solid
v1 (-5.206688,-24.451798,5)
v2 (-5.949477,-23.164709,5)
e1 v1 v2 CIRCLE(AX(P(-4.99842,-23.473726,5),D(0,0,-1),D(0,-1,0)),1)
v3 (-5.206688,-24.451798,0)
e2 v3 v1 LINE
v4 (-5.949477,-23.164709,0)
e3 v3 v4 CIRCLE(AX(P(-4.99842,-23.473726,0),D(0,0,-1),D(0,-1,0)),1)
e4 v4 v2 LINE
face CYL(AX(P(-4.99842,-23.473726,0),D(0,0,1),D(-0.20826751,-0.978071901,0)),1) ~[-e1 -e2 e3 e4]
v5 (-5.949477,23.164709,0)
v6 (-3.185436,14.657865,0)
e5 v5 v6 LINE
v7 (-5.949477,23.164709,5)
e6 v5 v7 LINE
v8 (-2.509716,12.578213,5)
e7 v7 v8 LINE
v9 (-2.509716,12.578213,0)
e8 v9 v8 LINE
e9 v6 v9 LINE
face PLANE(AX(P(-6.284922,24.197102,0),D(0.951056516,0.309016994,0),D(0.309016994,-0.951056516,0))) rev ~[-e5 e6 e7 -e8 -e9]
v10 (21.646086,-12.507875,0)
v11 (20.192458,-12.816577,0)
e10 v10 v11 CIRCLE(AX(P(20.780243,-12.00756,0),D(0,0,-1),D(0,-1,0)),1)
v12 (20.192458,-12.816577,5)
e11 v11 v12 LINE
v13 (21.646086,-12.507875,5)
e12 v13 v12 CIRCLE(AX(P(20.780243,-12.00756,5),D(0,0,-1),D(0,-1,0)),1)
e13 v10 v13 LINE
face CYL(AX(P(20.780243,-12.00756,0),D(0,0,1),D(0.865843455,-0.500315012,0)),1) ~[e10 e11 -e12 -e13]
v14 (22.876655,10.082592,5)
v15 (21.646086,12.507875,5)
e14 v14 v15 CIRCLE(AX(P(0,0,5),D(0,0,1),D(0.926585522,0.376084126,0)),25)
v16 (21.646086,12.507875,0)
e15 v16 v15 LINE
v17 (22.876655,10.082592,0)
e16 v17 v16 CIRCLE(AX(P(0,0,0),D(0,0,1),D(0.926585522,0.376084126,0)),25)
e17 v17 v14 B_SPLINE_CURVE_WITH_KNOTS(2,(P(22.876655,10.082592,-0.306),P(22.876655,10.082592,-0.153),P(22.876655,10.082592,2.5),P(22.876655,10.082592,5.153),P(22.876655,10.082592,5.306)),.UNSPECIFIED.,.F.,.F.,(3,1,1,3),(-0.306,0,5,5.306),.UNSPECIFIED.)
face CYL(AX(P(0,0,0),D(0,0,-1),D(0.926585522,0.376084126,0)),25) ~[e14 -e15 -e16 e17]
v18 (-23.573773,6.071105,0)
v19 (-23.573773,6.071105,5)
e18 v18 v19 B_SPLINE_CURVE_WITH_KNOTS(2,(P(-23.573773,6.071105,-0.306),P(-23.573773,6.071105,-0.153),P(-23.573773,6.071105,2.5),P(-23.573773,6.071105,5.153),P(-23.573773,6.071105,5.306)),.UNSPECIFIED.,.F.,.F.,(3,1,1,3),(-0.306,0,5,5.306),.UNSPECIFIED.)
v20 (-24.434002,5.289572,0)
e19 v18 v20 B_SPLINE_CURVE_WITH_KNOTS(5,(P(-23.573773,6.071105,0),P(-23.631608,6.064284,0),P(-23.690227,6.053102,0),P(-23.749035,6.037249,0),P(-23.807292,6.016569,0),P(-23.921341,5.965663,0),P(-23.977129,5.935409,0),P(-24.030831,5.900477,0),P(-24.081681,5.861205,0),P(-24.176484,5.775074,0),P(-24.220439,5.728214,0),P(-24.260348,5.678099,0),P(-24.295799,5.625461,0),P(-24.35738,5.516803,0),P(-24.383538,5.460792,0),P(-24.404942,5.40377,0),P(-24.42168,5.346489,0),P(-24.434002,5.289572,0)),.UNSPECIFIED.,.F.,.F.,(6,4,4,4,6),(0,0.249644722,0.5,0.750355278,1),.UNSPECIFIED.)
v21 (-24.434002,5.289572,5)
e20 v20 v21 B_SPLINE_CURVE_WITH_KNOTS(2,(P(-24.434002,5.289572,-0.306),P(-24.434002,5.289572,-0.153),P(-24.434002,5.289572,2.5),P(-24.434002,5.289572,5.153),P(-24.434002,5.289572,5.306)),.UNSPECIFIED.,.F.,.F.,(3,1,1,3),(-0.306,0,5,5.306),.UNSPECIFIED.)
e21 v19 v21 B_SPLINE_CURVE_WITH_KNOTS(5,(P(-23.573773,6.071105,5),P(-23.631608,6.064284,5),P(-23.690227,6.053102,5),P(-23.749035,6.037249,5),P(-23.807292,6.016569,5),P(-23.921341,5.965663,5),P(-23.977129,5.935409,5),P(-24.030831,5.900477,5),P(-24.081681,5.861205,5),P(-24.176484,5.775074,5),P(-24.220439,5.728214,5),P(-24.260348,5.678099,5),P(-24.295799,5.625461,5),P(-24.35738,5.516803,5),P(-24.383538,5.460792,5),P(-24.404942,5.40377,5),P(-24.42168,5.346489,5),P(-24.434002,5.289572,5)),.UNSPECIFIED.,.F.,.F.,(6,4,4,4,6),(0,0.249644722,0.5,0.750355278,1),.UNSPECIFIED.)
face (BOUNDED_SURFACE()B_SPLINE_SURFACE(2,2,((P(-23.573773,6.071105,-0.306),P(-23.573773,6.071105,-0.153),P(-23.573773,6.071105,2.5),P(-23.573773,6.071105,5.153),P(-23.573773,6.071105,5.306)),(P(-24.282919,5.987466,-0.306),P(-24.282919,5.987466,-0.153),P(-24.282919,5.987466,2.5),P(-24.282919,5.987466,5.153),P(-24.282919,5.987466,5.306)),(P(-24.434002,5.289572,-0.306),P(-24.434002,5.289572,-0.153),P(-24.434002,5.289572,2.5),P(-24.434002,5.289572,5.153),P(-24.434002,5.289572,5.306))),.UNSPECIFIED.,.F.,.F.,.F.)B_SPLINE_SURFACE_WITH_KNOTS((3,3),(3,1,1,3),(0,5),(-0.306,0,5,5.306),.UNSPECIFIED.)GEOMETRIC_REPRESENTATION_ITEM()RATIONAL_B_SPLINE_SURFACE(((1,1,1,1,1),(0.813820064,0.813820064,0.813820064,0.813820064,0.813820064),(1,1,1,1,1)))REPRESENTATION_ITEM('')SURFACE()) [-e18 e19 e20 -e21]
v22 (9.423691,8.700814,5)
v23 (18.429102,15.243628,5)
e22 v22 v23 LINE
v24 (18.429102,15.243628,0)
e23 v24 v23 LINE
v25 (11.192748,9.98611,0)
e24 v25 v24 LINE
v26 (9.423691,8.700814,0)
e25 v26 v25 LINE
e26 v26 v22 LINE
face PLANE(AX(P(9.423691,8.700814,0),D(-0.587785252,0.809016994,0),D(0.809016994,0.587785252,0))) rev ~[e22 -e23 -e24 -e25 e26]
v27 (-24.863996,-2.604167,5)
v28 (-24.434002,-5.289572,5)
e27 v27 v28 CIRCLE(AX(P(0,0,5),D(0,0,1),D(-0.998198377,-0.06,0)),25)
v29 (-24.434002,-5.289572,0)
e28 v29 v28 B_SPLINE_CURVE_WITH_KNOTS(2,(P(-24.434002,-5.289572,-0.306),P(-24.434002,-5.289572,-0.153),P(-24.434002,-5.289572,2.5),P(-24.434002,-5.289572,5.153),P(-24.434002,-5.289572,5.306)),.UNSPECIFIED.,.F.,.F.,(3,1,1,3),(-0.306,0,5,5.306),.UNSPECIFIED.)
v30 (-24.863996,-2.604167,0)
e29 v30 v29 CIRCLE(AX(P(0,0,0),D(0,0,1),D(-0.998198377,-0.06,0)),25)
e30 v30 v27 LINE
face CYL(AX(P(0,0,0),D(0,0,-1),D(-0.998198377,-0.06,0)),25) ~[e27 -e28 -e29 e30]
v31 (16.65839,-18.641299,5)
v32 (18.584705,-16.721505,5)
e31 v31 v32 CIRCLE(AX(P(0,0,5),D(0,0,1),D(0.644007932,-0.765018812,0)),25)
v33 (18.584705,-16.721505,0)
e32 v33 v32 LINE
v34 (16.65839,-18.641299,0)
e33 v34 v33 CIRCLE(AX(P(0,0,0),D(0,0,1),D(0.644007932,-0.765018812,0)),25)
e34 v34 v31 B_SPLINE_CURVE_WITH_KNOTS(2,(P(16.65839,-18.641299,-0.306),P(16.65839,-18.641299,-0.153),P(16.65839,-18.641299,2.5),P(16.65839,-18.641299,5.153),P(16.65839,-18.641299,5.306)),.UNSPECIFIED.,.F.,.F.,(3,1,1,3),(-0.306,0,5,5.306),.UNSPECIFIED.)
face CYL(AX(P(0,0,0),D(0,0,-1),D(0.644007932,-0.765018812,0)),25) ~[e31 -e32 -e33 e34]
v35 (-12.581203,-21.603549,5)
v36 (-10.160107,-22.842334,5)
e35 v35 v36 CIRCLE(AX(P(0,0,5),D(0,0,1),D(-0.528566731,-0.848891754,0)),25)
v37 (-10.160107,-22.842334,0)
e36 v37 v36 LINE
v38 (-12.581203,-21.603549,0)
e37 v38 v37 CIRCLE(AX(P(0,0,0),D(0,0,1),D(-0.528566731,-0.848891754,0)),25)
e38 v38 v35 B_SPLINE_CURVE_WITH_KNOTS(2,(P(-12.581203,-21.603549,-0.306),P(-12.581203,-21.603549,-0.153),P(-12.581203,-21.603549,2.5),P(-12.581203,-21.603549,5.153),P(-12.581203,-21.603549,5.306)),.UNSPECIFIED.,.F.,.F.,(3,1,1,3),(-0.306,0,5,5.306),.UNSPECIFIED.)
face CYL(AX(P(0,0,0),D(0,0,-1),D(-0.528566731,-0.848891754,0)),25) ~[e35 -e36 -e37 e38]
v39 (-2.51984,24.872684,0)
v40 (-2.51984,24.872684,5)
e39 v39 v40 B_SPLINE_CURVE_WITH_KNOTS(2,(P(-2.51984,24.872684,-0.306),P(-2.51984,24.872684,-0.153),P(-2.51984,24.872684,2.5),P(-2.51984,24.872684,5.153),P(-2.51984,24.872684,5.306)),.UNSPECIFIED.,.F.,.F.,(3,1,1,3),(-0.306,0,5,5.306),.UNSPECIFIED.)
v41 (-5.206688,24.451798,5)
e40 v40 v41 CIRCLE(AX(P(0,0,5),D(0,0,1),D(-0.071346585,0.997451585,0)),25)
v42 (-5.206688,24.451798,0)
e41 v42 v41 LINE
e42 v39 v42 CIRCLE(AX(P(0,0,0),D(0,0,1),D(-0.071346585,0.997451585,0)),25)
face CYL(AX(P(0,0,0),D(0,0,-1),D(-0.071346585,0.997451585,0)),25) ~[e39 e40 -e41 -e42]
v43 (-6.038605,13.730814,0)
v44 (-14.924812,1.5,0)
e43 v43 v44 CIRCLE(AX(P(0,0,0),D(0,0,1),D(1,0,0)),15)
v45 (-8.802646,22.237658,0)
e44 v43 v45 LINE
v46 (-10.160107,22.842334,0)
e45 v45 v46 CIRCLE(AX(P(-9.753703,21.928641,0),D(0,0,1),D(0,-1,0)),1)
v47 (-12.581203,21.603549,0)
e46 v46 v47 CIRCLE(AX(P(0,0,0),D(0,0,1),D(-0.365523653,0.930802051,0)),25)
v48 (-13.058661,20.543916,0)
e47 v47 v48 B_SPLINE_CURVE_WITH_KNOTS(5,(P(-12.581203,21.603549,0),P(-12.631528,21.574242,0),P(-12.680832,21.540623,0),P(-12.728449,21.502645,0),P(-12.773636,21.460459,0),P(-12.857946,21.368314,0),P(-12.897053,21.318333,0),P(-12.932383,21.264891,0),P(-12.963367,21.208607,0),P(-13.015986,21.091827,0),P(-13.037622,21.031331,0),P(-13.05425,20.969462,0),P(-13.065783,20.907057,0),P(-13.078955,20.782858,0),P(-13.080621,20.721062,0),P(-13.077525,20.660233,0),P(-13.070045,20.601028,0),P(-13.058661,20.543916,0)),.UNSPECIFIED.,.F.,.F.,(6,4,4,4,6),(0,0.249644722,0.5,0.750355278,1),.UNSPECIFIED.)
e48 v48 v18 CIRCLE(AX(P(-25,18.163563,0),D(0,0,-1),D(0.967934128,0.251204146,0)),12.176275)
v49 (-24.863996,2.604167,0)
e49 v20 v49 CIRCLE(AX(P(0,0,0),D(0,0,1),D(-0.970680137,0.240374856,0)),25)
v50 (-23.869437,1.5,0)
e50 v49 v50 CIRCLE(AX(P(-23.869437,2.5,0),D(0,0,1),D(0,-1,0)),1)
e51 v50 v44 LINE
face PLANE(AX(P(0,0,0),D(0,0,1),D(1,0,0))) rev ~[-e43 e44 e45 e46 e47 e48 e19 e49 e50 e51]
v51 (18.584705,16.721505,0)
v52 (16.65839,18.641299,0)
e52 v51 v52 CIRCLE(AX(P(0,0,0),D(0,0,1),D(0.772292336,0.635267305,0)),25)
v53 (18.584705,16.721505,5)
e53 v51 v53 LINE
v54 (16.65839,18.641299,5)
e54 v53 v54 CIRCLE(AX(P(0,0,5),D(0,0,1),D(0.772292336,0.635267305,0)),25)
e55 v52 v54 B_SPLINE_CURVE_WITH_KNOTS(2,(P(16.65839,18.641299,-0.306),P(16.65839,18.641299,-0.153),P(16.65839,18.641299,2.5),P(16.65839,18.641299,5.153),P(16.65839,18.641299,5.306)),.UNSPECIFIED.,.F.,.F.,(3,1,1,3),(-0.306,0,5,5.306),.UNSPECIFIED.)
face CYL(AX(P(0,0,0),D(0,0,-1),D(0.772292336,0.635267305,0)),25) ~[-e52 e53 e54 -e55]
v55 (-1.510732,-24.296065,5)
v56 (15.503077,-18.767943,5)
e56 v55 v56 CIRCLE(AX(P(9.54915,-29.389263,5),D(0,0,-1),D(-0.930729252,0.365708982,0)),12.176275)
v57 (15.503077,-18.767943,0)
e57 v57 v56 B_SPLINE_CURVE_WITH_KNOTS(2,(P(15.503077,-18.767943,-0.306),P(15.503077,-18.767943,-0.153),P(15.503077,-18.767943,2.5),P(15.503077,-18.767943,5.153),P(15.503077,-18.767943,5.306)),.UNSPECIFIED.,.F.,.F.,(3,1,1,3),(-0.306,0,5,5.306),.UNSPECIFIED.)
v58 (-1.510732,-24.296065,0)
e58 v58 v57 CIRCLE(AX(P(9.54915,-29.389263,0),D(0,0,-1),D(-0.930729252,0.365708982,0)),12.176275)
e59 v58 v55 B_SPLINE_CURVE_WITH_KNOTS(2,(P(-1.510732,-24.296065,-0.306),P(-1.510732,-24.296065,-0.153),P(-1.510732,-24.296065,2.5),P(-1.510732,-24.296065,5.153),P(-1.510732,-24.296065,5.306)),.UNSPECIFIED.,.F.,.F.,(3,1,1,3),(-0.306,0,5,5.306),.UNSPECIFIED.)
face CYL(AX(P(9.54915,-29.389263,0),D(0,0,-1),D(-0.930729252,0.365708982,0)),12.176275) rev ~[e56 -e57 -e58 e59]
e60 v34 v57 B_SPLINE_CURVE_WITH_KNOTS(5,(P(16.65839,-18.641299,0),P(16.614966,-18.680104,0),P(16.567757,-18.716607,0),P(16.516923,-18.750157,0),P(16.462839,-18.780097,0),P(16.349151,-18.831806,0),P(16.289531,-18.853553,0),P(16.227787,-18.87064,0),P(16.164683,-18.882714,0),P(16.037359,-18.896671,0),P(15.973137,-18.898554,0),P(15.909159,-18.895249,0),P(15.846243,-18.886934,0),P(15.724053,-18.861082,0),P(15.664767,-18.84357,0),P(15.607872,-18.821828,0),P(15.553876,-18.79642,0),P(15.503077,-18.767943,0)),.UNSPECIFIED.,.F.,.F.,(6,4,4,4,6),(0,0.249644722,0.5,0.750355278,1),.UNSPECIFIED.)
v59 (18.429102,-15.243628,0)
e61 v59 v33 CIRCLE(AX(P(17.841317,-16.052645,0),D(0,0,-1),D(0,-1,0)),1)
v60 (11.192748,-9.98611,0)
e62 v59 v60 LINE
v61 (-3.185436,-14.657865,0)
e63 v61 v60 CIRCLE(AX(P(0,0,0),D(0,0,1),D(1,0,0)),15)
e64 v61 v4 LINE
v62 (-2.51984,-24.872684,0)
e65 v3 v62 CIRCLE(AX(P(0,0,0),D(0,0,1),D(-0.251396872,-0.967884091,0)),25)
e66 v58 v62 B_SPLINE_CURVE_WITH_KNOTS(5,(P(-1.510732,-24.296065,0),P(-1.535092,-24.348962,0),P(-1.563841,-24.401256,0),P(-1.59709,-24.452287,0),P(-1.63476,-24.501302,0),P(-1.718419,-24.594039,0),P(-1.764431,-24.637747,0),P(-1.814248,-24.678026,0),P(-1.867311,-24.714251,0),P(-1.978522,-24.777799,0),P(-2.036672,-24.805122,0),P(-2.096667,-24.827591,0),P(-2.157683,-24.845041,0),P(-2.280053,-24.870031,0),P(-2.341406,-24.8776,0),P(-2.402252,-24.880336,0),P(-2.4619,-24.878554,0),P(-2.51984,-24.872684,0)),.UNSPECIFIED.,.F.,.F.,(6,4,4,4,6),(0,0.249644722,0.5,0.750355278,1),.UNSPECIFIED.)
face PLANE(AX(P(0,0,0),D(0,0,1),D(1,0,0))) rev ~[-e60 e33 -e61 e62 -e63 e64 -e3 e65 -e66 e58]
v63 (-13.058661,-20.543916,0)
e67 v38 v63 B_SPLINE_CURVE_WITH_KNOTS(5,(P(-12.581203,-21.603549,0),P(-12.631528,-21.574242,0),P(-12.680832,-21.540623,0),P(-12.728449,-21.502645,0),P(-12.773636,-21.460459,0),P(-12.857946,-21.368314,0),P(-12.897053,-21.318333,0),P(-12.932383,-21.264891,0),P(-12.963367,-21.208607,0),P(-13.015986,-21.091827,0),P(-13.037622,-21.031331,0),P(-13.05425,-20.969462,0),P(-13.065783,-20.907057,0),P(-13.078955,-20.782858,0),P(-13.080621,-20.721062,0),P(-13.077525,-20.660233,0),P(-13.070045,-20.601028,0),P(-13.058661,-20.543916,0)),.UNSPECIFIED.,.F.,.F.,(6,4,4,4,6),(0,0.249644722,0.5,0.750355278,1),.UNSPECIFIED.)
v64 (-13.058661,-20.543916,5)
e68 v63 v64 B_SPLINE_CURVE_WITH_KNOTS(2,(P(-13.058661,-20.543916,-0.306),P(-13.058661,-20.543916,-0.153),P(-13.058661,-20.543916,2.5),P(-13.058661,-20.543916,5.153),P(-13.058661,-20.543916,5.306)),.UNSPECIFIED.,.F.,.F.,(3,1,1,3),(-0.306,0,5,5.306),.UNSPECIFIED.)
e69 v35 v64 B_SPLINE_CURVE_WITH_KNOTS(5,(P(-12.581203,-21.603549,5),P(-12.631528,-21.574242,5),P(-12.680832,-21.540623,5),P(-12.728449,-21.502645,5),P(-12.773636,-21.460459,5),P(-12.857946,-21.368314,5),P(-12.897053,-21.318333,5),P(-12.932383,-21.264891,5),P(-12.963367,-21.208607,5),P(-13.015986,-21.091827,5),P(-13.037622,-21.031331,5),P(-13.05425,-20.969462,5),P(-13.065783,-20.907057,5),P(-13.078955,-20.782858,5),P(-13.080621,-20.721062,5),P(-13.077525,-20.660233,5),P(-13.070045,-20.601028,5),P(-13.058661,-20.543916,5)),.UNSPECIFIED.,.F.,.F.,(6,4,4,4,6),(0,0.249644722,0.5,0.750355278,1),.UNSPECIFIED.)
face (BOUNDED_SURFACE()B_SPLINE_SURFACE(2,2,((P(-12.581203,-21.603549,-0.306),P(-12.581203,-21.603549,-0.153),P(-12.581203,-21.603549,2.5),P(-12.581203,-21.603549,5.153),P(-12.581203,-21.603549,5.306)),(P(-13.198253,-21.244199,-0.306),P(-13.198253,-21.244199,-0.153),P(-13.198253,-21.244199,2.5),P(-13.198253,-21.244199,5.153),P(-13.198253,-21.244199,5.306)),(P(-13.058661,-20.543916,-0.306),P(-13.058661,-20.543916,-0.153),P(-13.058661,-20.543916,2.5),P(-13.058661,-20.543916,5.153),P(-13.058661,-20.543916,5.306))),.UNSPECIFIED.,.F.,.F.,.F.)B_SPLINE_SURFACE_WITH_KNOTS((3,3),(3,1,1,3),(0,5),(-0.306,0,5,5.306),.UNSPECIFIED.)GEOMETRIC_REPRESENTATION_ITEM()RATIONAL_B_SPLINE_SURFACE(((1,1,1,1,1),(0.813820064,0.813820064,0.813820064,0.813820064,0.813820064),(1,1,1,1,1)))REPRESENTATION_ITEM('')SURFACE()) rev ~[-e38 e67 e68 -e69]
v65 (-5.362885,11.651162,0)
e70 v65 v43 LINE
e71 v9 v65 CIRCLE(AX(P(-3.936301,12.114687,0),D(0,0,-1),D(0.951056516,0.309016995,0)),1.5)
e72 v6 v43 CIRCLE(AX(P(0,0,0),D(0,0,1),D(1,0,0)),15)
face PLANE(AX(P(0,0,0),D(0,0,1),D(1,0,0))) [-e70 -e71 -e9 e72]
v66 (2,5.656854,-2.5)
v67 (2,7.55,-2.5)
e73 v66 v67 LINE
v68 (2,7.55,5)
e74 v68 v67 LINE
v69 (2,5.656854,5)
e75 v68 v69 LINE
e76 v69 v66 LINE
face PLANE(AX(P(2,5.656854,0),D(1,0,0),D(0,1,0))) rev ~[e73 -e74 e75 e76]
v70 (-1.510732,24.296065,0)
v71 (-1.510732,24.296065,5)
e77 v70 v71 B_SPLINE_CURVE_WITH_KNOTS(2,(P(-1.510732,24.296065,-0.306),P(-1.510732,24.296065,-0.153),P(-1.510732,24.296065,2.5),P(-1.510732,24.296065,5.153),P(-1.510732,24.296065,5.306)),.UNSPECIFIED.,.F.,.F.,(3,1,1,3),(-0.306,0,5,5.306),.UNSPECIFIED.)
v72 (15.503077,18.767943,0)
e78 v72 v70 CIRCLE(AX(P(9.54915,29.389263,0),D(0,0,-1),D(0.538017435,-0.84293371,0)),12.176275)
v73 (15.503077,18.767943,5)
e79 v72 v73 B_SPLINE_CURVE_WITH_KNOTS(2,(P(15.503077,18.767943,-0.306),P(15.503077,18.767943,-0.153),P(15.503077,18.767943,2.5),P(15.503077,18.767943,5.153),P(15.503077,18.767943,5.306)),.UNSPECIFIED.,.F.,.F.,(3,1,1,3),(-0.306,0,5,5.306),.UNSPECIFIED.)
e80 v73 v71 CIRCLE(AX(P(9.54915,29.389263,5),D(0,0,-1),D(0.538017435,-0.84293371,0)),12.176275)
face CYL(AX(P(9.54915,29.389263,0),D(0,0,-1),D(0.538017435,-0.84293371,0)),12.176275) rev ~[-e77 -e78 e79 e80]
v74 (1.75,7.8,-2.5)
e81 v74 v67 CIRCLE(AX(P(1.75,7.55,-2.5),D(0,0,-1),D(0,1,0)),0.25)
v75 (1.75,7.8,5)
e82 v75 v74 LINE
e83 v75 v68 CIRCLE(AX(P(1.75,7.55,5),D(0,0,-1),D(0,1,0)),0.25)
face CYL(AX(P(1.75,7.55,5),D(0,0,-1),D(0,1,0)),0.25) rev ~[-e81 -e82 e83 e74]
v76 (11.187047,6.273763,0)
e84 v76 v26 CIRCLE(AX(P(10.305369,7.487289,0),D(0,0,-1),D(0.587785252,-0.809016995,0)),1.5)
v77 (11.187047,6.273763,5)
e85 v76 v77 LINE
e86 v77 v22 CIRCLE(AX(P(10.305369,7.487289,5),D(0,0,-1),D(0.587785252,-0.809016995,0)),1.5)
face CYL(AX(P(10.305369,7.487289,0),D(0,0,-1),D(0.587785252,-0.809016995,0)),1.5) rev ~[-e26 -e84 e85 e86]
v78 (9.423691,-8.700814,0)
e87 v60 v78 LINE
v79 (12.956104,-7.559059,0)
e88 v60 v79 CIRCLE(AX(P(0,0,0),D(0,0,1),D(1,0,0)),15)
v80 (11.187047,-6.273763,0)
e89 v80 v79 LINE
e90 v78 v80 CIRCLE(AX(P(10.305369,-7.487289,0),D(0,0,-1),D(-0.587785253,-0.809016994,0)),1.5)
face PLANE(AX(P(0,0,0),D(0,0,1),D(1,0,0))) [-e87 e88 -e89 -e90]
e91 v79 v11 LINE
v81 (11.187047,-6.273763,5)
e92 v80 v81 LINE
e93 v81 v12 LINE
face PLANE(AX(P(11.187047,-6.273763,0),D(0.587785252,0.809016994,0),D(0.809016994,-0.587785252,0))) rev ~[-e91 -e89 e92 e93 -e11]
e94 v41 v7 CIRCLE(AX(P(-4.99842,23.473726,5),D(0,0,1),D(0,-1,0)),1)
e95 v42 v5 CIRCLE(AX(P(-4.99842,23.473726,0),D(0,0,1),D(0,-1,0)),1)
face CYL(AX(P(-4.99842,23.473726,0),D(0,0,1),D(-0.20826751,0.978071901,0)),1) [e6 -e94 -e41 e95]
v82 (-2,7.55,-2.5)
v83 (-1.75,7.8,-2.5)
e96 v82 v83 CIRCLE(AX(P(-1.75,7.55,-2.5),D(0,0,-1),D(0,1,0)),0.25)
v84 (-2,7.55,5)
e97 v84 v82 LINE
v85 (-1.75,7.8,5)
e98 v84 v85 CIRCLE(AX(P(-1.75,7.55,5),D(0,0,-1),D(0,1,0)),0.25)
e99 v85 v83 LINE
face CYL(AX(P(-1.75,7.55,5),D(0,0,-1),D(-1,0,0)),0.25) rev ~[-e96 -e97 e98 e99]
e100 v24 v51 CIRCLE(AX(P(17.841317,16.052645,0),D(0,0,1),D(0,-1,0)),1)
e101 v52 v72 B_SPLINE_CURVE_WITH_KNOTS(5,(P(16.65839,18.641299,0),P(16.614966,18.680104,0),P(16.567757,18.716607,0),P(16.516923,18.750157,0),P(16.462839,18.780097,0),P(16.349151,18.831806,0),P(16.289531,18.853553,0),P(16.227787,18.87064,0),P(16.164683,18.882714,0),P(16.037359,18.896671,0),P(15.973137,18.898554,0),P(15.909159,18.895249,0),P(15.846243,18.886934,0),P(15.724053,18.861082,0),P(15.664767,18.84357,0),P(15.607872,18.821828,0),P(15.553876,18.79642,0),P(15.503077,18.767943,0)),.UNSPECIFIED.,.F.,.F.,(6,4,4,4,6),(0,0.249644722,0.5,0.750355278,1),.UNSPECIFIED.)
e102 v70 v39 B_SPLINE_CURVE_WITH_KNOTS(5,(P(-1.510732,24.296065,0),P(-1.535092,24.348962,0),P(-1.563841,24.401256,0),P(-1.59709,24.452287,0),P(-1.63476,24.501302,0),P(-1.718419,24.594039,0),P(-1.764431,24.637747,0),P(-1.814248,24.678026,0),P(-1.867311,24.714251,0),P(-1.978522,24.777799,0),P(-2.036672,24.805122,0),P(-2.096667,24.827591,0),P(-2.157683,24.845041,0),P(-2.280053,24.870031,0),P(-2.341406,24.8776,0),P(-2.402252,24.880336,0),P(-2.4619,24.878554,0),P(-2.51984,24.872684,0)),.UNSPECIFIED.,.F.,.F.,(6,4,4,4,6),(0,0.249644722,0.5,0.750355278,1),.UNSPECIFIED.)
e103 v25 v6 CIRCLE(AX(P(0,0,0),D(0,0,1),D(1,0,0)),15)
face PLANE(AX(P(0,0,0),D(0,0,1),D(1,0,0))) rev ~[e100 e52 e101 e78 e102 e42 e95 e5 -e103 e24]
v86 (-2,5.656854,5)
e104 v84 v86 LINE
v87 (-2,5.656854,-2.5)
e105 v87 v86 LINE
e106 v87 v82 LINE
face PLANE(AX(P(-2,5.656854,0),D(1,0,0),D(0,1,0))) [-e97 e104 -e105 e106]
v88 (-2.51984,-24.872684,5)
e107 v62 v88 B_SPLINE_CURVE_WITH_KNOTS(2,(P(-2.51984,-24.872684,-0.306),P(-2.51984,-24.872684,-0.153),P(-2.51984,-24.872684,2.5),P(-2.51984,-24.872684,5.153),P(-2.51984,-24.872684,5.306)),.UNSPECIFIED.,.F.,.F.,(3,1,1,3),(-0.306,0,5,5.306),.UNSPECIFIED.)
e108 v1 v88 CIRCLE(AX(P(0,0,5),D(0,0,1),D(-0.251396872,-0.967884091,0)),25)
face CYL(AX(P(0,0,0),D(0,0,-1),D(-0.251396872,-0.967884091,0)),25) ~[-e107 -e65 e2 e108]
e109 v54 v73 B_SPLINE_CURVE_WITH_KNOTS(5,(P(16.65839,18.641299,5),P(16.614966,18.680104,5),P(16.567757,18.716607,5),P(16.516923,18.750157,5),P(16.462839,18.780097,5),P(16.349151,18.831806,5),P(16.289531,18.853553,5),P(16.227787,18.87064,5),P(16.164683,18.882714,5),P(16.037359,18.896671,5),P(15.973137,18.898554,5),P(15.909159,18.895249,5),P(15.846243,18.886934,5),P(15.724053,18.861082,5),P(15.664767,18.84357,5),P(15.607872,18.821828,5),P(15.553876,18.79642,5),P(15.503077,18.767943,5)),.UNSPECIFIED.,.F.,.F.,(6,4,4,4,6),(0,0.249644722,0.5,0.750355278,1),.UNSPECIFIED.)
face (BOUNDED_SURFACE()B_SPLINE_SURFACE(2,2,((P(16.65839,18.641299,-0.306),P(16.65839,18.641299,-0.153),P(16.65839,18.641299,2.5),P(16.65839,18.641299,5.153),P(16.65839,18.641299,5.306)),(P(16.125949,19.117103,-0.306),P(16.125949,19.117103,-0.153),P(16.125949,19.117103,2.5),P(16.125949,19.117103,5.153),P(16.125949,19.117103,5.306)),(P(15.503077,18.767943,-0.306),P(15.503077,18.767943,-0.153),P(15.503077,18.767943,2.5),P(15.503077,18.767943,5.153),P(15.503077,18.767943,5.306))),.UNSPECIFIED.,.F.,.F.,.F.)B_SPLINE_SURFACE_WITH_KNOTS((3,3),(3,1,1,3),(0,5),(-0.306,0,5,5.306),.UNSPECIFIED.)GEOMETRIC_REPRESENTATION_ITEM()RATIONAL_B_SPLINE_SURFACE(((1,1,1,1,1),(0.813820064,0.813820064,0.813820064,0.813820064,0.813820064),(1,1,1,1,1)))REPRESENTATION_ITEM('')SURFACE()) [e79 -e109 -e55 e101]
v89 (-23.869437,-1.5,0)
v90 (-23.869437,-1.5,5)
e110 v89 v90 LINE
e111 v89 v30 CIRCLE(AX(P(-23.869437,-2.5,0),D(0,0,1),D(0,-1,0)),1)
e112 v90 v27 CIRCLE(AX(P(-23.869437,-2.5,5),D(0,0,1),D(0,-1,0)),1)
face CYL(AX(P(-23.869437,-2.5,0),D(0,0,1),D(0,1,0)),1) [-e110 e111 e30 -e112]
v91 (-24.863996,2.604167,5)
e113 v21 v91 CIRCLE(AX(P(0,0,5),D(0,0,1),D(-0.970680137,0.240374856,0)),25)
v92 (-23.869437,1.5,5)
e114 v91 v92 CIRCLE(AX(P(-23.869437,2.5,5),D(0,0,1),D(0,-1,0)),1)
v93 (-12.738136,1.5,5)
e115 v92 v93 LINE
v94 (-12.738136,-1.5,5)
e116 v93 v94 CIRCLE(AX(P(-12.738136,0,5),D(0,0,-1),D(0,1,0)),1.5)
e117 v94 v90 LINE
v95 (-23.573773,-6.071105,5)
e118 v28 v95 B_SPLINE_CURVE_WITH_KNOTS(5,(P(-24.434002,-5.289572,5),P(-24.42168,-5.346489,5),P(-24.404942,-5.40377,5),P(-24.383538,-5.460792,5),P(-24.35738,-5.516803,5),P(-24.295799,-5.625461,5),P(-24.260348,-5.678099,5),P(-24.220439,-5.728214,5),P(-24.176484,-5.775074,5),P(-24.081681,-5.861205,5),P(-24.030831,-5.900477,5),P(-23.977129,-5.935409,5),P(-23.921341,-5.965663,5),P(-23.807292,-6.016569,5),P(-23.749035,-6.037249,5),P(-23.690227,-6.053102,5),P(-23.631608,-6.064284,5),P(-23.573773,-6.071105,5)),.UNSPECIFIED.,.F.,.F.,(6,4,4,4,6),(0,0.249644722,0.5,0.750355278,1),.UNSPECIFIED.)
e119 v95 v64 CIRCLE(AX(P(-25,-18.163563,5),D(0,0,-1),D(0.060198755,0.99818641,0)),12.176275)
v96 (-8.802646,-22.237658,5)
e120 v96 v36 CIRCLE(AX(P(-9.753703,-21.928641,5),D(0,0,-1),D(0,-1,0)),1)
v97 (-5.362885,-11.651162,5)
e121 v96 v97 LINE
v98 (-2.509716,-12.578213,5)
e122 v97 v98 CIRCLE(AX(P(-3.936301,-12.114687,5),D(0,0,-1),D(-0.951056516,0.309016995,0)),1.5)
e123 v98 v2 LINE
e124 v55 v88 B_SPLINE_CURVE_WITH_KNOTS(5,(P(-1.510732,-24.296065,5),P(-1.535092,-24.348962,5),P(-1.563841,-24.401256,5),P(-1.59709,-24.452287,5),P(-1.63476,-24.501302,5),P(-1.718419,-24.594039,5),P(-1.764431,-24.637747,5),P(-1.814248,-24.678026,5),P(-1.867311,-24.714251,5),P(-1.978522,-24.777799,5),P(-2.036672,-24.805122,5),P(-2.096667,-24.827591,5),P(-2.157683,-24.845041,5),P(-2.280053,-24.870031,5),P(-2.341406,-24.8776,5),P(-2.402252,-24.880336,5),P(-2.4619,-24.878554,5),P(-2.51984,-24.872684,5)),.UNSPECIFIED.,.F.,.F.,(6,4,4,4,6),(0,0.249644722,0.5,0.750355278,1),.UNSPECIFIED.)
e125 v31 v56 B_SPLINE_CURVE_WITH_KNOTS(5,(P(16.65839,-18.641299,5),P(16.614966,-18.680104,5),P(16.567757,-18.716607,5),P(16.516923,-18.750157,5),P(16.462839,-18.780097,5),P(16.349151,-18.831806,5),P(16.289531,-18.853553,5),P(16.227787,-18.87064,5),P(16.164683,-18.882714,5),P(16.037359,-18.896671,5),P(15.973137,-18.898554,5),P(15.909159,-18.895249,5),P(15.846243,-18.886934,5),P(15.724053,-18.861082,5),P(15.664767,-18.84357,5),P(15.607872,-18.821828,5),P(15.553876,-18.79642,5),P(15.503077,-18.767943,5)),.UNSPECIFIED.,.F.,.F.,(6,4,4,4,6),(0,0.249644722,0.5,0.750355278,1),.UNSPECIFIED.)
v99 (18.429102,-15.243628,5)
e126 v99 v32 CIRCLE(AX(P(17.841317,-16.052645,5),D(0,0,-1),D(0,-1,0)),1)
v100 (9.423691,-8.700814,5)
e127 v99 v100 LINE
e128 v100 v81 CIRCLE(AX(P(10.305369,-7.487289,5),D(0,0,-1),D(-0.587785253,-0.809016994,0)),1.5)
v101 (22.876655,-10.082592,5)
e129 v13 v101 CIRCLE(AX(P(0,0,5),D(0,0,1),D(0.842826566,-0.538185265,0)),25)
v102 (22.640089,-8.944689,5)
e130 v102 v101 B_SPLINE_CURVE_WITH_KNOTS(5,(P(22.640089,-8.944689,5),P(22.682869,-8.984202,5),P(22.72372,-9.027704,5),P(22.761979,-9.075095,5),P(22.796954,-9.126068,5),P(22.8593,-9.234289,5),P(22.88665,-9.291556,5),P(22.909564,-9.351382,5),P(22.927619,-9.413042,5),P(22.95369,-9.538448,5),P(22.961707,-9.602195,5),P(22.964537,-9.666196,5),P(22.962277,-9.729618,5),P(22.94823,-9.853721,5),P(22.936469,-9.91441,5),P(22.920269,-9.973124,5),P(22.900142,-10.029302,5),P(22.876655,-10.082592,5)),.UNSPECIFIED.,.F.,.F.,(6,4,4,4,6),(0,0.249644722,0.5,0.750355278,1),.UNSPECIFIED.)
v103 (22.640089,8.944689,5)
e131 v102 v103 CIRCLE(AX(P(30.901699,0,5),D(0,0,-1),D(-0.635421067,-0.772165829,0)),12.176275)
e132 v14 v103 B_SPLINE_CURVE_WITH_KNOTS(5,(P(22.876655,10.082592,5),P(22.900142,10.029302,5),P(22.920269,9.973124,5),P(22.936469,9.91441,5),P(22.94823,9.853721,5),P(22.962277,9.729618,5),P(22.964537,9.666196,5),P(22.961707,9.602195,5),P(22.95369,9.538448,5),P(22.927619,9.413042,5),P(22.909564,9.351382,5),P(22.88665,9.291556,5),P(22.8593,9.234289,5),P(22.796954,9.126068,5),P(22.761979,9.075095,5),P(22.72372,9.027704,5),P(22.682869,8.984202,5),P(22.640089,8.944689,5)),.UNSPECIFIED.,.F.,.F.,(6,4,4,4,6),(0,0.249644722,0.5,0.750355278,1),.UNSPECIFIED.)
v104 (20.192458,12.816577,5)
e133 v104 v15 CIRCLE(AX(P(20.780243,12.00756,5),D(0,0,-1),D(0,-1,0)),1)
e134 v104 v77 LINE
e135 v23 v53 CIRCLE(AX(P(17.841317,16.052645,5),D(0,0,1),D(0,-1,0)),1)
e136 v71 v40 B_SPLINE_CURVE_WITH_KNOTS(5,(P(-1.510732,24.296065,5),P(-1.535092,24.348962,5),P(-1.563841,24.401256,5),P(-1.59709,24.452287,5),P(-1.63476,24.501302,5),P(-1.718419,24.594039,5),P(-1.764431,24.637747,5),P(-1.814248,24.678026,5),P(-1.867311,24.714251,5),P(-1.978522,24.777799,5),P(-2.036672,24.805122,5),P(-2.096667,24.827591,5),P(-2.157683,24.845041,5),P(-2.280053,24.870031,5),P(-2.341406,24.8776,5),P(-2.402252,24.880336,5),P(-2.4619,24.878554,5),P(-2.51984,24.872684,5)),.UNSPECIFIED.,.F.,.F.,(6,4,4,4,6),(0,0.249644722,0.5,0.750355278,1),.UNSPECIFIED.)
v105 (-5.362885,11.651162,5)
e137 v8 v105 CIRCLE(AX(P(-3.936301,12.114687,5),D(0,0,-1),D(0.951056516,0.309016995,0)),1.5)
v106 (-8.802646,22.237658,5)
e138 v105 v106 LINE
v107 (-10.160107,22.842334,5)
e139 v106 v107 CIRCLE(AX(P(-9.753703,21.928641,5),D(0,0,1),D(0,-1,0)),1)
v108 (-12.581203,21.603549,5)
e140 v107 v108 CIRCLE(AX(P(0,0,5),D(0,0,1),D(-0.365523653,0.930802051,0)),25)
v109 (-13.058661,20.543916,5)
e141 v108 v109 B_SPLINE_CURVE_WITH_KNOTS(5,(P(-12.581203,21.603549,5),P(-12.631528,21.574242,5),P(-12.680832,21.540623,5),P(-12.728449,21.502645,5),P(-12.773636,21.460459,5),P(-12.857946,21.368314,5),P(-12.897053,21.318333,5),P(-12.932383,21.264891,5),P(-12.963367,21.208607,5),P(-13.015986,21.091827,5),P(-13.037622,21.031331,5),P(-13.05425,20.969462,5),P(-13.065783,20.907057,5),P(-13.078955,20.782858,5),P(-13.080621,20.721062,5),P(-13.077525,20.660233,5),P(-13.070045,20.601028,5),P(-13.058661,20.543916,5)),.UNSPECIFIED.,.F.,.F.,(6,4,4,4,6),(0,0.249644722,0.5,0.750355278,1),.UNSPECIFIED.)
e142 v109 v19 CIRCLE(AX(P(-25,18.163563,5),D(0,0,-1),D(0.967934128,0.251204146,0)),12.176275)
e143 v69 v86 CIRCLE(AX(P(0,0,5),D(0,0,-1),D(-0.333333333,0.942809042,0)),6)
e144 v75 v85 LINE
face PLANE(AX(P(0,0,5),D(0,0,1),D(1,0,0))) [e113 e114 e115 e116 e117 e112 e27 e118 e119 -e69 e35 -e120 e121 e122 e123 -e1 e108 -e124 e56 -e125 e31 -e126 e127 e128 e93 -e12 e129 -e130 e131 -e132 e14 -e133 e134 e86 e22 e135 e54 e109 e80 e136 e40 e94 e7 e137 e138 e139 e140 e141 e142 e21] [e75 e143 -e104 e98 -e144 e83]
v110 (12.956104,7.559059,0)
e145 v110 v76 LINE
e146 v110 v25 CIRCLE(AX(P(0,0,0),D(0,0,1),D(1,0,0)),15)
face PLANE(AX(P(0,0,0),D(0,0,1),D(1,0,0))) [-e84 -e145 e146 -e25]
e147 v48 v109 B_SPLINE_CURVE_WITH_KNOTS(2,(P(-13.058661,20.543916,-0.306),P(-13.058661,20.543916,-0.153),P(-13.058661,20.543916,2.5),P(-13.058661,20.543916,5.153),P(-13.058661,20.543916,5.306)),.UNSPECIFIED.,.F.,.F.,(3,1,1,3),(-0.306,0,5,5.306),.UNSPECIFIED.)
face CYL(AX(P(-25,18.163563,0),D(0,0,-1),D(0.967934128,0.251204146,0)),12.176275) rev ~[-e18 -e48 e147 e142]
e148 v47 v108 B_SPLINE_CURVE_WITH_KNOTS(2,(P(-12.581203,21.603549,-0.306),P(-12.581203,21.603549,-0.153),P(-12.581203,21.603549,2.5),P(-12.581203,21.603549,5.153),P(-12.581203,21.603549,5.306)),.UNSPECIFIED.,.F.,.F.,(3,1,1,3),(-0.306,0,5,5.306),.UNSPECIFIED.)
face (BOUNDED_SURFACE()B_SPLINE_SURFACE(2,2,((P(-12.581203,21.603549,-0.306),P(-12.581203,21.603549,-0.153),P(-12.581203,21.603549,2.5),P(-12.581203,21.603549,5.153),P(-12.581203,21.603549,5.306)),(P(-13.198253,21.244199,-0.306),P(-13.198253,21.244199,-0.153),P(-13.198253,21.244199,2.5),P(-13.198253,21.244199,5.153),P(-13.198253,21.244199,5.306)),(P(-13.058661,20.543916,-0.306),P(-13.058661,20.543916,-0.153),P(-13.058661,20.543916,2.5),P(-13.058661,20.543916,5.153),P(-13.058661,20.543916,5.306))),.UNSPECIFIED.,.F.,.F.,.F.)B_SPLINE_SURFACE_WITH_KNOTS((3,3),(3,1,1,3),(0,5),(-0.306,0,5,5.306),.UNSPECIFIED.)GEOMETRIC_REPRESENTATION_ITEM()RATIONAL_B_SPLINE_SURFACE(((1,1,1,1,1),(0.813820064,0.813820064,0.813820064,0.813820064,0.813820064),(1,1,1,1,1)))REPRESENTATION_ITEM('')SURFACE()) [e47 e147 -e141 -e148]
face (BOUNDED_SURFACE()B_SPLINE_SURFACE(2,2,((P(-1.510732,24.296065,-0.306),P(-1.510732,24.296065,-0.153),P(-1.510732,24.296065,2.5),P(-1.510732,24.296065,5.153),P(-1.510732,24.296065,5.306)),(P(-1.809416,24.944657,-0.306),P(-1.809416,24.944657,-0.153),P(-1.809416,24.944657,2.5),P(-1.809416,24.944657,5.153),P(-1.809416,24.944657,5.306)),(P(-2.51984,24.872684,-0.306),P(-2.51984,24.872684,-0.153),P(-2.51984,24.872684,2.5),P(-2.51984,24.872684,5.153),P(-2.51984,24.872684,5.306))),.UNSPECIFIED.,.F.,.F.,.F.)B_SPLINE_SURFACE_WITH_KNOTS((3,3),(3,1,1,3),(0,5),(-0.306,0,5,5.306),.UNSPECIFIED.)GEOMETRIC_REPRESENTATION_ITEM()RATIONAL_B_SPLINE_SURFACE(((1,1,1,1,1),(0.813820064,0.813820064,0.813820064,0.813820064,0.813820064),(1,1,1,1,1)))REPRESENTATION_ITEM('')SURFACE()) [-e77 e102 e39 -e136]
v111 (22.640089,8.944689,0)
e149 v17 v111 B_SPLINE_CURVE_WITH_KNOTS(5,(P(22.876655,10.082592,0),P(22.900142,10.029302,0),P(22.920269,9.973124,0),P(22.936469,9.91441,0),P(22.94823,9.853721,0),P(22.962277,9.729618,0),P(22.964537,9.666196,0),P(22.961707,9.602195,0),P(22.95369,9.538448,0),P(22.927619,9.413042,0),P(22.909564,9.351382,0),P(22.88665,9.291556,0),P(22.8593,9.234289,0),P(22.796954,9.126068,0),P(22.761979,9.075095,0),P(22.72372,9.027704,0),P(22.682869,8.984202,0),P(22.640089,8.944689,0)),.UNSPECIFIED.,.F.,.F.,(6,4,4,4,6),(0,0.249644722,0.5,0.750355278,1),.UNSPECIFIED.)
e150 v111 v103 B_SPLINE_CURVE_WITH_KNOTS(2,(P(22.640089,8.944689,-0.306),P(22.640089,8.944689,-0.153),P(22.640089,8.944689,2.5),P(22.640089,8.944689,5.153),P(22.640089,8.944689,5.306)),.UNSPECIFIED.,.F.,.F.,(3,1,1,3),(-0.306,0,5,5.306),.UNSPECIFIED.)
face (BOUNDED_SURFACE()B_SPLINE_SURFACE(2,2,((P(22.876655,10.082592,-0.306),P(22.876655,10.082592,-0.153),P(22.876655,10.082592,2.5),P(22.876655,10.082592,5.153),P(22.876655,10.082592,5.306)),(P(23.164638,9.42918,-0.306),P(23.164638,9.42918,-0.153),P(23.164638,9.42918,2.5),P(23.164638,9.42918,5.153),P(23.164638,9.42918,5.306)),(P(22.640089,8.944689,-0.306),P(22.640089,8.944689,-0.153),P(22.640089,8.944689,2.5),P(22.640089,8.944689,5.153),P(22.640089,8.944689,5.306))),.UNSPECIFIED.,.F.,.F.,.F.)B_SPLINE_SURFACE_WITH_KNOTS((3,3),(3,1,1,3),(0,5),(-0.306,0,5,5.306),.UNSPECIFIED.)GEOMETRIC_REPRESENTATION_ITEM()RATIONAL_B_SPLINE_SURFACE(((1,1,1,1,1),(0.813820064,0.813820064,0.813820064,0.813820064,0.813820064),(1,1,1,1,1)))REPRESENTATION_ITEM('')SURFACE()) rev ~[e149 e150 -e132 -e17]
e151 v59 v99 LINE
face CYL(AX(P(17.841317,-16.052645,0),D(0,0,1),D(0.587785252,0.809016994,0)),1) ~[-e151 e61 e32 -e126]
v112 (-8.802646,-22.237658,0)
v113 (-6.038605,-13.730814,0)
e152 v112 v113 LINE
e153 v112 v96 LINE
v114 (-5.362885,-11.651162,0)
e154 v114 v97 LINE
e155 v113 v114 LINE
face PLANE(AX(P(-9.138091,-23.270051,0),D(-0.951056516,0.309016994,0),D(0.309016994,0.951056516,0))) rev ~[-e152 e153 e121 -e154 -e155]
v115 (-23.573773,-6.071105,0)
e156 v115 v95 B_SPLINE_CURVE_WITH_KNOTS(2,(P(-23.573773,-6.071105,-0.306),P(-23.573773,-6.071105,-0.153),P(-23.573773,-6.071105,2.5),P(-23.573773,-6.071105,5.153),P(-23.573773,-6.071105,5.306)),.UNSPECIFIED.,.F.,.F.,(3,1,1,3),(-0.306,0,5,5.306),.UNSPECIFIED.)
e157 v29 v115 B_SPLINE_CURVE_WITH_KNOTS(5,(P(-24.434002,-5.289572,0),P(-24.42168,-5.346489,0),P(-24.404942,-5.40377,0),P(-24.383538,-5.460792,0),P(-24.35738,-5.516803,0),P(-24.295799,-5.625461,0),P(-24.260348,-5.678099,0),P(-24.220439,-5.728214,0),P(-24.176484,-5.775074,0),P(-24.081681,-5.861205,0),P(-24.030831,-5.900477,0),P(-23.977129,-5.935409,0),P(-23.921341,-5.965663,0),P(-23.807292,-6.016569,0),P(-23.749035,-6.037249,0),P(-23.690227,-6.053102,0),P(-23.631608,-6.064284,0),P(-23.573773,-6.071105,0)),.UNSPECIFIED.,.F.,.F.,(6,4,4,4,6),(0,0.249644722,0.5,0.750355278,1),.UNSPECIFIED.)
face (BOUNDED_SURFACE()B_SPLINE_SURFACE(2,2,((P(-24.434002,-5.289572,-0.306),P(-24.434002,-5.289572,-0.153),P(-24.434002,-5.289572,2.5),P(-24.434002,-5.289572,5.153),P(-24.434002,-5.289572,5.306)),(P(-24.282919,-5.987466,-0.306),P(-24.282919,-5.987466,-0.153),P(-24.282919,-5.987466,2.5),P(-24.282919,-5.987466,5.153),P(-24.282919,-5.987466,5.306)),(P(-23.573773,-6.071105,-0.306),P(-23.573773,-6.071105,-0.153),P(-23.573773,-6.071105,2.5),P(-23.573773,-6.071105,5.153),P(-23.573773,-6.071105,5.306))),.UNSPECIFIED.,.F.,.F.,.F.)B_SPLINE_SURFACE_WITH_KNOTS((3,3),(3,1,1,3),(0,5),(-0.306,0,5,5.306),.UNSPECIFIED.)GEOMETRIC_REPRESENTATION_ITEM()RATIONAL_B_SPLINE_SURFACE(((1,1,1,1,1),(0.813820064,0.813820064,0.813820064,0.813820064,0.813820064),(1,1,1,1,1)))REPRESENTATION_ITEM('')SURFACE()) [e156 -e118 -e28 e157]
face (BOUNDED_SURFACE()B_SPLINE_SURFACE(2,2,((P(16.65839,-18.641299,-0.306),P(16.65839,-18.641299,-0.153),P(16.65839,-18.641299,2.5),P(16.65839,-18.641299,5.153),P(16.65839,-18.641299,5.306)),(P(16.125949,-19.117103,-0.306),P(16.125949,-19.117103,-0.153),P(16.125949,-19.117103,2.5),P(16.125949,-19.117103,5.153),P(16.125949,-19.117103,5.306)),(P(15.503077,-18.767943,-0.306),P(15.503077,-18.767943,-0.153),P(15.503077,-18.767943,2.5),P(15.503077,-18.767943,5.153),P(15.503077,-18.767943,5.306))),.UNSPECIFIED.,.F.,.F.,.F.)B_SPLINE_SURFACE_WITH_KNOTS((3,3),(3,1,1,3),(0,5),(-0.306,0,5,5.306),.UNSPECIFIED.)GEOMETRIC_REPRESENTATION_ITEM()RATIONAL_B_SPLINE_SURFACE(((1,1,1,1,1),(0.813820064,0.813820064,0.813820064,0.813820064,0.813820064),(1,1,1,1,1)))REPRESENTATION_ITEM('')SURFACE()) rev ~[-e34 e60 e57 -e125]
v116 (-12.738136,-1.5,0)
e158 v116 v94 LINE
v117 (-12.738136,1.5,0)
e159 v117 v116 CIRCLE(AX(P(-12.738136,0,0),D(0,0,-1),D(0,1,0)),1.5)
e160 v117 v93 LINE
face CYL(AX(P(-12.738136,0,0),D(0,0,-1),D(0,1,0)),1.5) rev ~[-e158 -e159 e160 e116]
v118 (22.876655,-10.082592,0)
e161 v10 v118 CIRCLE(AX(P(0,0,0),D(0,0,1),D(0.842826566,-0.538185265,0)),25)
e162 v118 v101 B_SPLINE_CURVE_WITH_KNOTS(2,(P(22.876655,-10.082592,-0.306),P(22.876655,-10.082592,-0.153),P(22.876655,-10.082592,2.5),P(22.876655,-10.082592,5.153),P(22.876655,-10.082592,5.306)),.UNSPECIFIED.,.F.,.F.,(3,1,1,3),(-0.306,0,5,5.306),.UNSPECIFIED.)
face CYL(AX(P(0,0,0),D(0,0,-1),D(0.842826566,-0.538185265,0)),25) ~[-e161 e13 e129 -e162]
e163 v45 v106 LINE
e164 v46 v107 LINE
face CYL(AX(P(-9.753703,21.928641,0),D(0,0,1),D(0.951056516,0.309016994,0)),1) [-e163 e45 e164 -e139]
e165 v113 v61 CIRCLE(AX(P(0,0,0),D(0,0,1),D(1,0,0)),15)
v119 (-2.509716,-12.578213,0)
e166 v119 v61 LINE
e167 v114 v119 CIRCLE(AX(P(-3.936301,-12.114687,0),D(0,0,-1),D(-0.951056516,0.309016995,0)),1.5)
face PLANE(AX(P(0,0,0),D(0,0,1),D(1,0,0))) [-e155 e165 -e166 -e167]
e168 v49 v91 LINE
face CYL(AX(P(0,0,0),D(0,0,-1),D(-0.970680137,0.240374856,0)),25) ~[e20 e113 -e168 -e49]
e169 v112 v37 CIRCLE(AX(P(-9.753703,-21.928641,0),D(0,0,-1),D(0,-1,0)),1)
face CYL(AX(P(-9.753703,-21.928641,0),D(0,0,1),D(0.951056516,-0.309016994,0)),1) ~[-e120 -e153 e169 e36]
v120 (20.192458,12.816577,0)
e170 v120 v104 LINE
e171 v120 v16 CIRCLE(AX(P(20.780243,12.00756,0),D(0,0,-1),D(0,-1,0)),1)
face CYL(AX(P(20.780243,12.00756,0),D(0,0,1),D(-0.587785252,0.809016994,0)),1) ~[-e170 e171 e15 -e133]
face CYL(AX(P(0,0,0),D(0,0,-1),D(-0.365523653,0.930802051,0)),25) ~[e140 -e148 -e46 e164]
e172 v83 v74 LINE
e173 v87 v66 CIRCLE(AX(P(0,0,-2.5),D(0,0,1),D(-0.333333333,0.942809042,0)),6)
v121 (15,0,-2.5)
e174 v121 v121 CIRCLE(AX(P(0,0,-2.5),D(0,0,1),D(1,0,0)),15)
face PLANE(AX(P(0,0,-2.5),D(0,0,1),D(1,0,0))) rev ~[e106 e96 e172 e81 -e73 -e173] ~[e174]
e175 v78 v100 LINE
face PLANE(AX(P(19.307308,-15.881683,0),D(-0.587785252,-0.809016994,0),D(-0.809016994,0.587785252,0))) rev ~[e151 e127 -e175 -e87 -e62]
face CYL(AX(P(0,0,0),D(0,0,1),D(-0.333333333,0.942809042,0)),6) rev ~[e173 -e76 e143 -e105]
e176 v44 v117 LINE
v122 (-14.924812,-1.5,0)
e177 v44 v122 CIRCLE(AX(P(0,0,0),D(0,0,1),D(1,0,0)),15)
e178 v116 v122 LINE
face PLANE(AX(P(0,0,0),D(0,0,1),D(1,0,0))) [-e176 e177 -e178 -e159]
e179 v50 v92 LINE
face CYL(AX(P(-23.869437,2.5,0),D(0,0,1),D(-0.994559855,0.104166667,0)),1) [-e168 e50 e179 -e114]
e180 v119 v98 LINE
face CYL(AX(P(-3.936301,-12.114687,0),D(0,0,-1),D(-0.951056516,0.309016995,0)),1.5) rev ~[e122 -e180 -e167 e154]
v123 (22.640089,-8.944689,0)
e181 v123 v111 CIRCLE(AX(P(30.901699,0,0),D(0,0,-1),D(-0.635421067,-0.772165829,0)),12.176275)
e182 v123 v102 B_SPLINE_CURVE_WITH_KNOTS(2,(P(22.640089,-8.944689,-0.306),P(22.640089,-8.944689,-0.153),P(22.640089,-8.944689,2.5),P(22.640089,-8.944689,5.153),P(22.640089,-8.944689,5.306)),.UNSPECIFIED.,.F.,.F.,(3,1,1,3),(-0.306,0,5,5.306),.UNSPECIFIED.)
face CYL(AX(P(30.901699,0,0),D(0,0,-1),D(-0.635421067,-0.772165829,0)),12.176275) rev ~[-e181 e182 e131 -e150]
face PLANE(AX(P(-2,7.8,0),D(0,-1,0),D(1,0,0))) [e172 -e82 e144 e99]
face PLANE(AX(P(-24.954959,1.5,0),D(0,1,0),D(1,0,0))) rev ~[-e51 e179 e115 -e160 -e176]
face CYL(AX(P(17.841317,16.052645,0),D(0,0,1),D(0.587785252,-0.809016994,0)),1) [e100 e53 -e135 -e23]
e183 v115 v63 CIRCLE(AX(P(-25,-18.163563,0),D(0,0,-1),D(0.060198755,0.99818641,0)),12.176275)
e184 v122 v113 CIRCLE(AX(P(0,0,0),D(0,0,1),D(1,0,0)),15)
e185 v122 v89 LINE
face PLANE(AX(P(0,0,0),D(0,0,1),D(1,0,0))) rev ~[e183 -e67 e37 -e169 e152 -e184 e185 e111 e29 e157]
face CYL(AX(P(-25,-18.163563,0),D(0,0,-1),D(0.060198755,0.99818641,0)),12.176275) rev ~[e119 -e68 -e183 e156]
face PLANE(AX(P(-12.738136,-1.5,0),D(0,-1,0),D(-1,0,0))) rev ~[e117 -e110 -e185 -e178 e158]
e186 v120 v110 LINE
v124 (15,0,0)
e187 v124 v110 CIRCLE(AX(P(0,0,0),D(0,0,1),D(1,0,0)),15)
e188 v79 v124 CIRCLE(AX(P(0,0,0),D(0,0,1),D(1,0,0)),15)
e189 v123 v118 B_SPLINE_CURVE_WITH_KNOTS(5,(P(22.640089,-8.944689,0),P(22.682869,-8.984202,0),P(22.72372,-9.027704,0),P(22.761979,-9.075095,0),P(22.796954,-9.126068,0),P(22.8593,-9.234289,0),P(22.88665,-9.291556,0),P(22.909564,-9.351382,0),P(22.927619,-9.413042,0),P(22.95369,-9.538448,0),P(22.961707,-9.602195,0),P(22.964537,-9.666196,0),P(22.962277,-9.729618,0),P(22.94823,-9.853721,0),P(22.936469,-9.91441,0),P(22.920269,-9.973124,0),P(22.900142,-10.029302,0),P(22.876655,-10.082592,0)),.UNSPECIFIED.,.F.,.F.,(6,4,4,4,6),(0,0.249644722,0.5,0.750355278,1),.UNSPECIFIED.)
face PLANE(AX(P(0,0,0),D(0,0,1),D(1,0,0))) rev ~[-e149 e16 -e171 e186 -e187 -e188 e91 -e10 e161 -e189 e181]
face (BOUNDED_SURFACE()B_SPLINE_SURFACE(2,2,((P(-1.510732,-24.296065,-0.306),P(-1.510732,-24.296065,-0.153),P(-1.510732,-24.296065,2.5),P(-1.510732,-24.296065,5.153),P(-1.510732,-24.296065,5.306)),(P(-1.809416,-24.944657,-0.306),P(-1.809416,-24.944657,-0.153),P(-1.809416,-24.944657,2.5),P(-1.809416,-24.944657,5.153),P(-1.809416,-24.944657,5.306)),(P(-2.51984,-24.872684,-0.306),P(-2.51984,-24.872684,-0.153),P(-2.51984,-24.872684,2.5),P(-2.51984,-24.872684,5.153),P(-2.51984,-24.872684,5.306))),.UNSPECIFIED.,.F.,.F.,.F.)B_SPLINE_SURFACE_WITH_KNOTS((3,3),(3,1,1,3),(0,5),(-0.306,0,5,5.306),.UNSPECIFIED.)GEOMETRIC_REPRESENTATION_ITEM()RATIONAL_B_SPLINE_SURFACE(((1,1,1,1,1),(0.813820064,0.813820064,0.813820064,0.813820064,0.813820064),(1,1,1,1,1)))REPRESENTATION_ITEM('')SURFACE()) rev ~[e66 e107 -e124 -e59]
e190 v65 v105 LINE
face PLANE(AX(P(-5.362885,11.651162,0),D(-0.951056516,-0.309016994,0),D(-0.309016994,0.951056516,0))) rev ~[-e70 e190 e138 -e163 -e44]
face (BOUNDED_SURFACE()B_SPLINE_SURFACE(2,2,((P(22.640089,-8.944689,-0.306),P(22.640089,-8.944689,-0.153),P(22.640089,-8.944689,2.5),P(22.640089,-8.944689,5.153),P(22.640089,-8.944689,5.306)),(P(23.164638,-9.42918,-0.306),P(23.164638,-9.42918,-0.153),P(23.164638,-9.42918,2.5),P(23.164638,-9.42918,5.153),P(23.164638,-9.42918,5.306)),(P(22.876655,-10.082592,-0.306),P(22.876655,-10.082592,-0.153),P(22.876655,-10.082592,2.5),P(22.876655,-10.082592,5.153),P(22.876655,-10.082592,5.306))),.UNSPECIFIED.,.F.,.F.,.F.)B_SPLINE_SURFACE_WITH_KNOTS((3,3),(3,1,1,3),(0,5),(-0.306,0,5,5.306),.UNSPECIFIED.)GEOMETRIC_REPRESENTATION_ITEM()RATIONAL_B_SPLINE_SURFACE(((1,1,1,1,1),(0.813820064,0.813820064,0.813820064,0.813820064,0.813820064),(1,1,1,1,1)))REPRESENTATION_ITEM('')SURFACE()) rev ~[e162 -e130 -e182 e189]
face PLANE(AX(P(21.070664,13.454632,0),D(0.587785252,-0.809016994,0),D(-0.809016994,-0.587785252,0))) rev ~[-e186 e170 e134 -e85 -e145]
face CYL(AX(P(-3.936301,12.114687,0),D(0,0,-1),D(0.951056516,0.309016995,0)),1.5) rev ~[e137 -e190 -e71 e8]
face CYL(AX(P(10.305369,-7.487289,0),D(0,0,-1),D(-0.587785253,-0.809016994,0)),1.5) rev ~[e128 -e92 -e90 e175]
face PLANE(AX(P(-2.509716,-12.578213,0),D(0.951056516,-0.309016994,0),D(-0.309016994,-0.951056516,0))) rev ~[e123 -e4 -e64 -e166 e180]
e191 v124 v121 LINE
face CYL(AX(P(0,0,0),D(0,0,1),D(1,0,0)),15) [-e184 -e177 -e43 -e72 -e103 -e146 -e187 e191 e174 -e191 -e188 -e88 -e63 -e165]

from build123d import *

# Parameters (mm, degrees)
BOSS_EXTRUDE1_DEPTH     = 5
SKETCH2_R               = 15
BOSS_EXTRUDE2_DEPTH     = 2.5
SKETCH3_R               = 6
SKETCH3_W               = 4
SKETCH3_H               = 3.6
CUT_EXTRUDE1_DEPTH      = 6
CUT_EXTRUDE1_DEPTH_BACK = 3.5
FILLET2_R               = 0.25
FILLET1_R               = 1


with BuildPart() as part:
    # Sketch1 → Boss-Extrude1 (new body)
    with BuildSketch(Plane.XY):
        with BuildLine():
            ThreePointArc((11.187046571, 6.27376313), (9.091843201, 6.605610744), (9.423690814, 8.700814114))
            Line((9.423690814, 8.700814114), (19.307308392, 15.881682614))
            ThreePointArc((19.307308392, 15.881682614), (17.777891388, 17.576876224), (16.100198302, 19.125470312))
            ThreePointArc((16.100198302, 19.125470312), (5.786474508, 17.808937333), (-1.783664646, 24.936289628))
            ThreePointArc((-1.783664646, 24.936289628), (-4.051187632, 24.669573948), (-6.284921782, 24.197102268))
            Line((-6.284921782, 24.197102268), (-2.5097158, 12.578212966))
            ThreePointArc((-2.5097158, 12.578212966), (-3.472775082, 10.6881027), (-5.362885348, 11.651161982))
            Line((-5.362885348, 11.651161982), (-9.138091331, 23.270051285))
            ThreePointArc((-9.138091331, 23.270051285), (-11.222932105, 22.339332912), (-13.214168279, 21.22229386))
            ThreePointArc((-13.214168279, 21.22229386), (-15.149186938, 11.006528575), (-24.267003431, 6.009371387))
            ThreePointArc((-24.267003431, 6.009371387), (-24.714044883, 3.770409198), (-24.954959427, 1.5))
            Line((-24.954959427, 1.5), (-12.738136237, 1.5))
            ThreePointArc((-12.738136237, 1.5), (-11.238136237, 0), (-12.738136237, -1.5))
            Line((-12.738136237, -1.5), (-24.954959427, -1.5))
            ThreePointArc((-24.954959427, -1.5), (-24.714044883, -3.770409198), (-24.267003431, -6.009371387))
            ThreePointArc((-24.267003431, -6.009371387), (-15.149186938, -11.006528575), (-13.214168279, -21.22229386))
            ThreePointArc((-13.214168279, -21.22229386), (-11.222932105, -22.339332912), (-9.138091331, -23.270051285))
            Line((-9.138091331, -23.270051285), (-5.362885348, -11.651161982))
            ThreePointArc((-5.362885348, -11.651161982), (-3.472775082, -10.6881027), (-2.5097158, -12.578212966))
            Line((-2.5097158, -12.578212966), (-6.284921782, -24.197102268))
            ThreePointArc((-6.284921782, -24.197102268), (-4.051187632, -24.669573948), (-1.783664646, -24.936289628))
            ThreePointArc((-1.783664646, -24.936289628), (5.786474508, -17.808937333), (16.100198302, -19.125470312))
            ThreePointArc((16.100198302, -19.125470312), (17.777891388, -17.576876224), (19.307308392, -15.881682614))
            Line((19.307308392, -15.881682614), (9.423690814, -8.700814114))
            ThreePointArc((9.423690814, -8.700814114), (9.091843201, -6.605610744), (11.187046571, -6.27376313))
            Line((11.187046571, -6.27376313), (21.070664149, -13.454631631))
            ThreePointArc((21.070664149, -13.454631631), (22.210273232, -11.47622599), (23.164638055, -9.402103157))
            ThreePointArc((23.164638055, -9.402103157), (18.725424859, 0), (23.164638055, 9.402103157))
            ThreePointArc((23.164638055, 9.402103157), (22.210273232, 11.47622599), (21.070664149, 13.454631631))
            Line((21.070664149, 13.454631631), (11.187046571, 6.27376313))
        make_face()
    extrude(amount=BOSS_EXTRUDE1_DEPTH)

    # Sketch2 → Boss-Extrude2 (add)
    with BuildSketch(Plane.XY):
        Circle(SKETCH2_R)
    extrude(amount=-BOSS_EXTRUDE2_DEPTH)

    # Sketch3 → Cut-Extrude1 (cut, two sides)
    with BuildSketch(Plane.XY) as cut_extrude1_sk:
        Circle(SKETCH3_R)
        with Locations((0, 6)):
            Rectangle(SKETCH3_W, SKETCH3_H)
    extrude(amount=CUT_EXTRUDE1_DEPTH, mode=Mode.SUBTRACT)
    extrude(cut_extrude1_sk.sketch, amount=-CUT_EXTRUDE1_DEPTH_BACK, mode=Mode.SUBTRACT)

    # Fillet2
    fillet2_edges = [part.edges().sort_by_distance(p)[0] for p in [
        (-2, 7.8, 1.25),
        (2, 7.8, 1.25),
    ]]
    fillet(fillet2_edges, radius=FILLET2_R)

    # Fillet1
    fillet1_edges = [part.edges().sort_by_distance(p)[0] for p in [
        (-6.284921782, 24.197102268, 2.5),
        (-1.783664646, 24.936289628, 2.5),
        (16.100198302, 19.125470312, 2.5),
        (19.307308392, 15.881682614, 2.5),
        (21.070664149, 13.454631631, 2.5),
        (23.164638055, 9.402103157, 2.5),
        (23.164638055, -9.402103157, 2.5),
        (21.070664149, -13.454631631, 2.5),
        (19.307308392, -15.881682614, 2.5),
        (16.100198302, -19.125470312, 2.5),
        (-1.783664646, -24.936289628, 2.5),
        (-6.284921782, -24.197102268, 2.5),
        (-9.138091331, -23.270051285, 2.5),
        (-13.214168279, -21.22229386, 2.5),
        (-24.267003431, -6.009371387, 2.5),
        (-24.954959427, -1.5, 2.5),
        (-24.954959427, 1.5, 2.5),
        (-24.267003431, 6.009371387, 2.5),
        (-13.214168279, 21.22229386, 2.5),
        (-9.138091331, 23.270051285, 2.5),
    ]]
    fillet(fillet1_edges, radius=FILLET1_R)


solid = part.part
